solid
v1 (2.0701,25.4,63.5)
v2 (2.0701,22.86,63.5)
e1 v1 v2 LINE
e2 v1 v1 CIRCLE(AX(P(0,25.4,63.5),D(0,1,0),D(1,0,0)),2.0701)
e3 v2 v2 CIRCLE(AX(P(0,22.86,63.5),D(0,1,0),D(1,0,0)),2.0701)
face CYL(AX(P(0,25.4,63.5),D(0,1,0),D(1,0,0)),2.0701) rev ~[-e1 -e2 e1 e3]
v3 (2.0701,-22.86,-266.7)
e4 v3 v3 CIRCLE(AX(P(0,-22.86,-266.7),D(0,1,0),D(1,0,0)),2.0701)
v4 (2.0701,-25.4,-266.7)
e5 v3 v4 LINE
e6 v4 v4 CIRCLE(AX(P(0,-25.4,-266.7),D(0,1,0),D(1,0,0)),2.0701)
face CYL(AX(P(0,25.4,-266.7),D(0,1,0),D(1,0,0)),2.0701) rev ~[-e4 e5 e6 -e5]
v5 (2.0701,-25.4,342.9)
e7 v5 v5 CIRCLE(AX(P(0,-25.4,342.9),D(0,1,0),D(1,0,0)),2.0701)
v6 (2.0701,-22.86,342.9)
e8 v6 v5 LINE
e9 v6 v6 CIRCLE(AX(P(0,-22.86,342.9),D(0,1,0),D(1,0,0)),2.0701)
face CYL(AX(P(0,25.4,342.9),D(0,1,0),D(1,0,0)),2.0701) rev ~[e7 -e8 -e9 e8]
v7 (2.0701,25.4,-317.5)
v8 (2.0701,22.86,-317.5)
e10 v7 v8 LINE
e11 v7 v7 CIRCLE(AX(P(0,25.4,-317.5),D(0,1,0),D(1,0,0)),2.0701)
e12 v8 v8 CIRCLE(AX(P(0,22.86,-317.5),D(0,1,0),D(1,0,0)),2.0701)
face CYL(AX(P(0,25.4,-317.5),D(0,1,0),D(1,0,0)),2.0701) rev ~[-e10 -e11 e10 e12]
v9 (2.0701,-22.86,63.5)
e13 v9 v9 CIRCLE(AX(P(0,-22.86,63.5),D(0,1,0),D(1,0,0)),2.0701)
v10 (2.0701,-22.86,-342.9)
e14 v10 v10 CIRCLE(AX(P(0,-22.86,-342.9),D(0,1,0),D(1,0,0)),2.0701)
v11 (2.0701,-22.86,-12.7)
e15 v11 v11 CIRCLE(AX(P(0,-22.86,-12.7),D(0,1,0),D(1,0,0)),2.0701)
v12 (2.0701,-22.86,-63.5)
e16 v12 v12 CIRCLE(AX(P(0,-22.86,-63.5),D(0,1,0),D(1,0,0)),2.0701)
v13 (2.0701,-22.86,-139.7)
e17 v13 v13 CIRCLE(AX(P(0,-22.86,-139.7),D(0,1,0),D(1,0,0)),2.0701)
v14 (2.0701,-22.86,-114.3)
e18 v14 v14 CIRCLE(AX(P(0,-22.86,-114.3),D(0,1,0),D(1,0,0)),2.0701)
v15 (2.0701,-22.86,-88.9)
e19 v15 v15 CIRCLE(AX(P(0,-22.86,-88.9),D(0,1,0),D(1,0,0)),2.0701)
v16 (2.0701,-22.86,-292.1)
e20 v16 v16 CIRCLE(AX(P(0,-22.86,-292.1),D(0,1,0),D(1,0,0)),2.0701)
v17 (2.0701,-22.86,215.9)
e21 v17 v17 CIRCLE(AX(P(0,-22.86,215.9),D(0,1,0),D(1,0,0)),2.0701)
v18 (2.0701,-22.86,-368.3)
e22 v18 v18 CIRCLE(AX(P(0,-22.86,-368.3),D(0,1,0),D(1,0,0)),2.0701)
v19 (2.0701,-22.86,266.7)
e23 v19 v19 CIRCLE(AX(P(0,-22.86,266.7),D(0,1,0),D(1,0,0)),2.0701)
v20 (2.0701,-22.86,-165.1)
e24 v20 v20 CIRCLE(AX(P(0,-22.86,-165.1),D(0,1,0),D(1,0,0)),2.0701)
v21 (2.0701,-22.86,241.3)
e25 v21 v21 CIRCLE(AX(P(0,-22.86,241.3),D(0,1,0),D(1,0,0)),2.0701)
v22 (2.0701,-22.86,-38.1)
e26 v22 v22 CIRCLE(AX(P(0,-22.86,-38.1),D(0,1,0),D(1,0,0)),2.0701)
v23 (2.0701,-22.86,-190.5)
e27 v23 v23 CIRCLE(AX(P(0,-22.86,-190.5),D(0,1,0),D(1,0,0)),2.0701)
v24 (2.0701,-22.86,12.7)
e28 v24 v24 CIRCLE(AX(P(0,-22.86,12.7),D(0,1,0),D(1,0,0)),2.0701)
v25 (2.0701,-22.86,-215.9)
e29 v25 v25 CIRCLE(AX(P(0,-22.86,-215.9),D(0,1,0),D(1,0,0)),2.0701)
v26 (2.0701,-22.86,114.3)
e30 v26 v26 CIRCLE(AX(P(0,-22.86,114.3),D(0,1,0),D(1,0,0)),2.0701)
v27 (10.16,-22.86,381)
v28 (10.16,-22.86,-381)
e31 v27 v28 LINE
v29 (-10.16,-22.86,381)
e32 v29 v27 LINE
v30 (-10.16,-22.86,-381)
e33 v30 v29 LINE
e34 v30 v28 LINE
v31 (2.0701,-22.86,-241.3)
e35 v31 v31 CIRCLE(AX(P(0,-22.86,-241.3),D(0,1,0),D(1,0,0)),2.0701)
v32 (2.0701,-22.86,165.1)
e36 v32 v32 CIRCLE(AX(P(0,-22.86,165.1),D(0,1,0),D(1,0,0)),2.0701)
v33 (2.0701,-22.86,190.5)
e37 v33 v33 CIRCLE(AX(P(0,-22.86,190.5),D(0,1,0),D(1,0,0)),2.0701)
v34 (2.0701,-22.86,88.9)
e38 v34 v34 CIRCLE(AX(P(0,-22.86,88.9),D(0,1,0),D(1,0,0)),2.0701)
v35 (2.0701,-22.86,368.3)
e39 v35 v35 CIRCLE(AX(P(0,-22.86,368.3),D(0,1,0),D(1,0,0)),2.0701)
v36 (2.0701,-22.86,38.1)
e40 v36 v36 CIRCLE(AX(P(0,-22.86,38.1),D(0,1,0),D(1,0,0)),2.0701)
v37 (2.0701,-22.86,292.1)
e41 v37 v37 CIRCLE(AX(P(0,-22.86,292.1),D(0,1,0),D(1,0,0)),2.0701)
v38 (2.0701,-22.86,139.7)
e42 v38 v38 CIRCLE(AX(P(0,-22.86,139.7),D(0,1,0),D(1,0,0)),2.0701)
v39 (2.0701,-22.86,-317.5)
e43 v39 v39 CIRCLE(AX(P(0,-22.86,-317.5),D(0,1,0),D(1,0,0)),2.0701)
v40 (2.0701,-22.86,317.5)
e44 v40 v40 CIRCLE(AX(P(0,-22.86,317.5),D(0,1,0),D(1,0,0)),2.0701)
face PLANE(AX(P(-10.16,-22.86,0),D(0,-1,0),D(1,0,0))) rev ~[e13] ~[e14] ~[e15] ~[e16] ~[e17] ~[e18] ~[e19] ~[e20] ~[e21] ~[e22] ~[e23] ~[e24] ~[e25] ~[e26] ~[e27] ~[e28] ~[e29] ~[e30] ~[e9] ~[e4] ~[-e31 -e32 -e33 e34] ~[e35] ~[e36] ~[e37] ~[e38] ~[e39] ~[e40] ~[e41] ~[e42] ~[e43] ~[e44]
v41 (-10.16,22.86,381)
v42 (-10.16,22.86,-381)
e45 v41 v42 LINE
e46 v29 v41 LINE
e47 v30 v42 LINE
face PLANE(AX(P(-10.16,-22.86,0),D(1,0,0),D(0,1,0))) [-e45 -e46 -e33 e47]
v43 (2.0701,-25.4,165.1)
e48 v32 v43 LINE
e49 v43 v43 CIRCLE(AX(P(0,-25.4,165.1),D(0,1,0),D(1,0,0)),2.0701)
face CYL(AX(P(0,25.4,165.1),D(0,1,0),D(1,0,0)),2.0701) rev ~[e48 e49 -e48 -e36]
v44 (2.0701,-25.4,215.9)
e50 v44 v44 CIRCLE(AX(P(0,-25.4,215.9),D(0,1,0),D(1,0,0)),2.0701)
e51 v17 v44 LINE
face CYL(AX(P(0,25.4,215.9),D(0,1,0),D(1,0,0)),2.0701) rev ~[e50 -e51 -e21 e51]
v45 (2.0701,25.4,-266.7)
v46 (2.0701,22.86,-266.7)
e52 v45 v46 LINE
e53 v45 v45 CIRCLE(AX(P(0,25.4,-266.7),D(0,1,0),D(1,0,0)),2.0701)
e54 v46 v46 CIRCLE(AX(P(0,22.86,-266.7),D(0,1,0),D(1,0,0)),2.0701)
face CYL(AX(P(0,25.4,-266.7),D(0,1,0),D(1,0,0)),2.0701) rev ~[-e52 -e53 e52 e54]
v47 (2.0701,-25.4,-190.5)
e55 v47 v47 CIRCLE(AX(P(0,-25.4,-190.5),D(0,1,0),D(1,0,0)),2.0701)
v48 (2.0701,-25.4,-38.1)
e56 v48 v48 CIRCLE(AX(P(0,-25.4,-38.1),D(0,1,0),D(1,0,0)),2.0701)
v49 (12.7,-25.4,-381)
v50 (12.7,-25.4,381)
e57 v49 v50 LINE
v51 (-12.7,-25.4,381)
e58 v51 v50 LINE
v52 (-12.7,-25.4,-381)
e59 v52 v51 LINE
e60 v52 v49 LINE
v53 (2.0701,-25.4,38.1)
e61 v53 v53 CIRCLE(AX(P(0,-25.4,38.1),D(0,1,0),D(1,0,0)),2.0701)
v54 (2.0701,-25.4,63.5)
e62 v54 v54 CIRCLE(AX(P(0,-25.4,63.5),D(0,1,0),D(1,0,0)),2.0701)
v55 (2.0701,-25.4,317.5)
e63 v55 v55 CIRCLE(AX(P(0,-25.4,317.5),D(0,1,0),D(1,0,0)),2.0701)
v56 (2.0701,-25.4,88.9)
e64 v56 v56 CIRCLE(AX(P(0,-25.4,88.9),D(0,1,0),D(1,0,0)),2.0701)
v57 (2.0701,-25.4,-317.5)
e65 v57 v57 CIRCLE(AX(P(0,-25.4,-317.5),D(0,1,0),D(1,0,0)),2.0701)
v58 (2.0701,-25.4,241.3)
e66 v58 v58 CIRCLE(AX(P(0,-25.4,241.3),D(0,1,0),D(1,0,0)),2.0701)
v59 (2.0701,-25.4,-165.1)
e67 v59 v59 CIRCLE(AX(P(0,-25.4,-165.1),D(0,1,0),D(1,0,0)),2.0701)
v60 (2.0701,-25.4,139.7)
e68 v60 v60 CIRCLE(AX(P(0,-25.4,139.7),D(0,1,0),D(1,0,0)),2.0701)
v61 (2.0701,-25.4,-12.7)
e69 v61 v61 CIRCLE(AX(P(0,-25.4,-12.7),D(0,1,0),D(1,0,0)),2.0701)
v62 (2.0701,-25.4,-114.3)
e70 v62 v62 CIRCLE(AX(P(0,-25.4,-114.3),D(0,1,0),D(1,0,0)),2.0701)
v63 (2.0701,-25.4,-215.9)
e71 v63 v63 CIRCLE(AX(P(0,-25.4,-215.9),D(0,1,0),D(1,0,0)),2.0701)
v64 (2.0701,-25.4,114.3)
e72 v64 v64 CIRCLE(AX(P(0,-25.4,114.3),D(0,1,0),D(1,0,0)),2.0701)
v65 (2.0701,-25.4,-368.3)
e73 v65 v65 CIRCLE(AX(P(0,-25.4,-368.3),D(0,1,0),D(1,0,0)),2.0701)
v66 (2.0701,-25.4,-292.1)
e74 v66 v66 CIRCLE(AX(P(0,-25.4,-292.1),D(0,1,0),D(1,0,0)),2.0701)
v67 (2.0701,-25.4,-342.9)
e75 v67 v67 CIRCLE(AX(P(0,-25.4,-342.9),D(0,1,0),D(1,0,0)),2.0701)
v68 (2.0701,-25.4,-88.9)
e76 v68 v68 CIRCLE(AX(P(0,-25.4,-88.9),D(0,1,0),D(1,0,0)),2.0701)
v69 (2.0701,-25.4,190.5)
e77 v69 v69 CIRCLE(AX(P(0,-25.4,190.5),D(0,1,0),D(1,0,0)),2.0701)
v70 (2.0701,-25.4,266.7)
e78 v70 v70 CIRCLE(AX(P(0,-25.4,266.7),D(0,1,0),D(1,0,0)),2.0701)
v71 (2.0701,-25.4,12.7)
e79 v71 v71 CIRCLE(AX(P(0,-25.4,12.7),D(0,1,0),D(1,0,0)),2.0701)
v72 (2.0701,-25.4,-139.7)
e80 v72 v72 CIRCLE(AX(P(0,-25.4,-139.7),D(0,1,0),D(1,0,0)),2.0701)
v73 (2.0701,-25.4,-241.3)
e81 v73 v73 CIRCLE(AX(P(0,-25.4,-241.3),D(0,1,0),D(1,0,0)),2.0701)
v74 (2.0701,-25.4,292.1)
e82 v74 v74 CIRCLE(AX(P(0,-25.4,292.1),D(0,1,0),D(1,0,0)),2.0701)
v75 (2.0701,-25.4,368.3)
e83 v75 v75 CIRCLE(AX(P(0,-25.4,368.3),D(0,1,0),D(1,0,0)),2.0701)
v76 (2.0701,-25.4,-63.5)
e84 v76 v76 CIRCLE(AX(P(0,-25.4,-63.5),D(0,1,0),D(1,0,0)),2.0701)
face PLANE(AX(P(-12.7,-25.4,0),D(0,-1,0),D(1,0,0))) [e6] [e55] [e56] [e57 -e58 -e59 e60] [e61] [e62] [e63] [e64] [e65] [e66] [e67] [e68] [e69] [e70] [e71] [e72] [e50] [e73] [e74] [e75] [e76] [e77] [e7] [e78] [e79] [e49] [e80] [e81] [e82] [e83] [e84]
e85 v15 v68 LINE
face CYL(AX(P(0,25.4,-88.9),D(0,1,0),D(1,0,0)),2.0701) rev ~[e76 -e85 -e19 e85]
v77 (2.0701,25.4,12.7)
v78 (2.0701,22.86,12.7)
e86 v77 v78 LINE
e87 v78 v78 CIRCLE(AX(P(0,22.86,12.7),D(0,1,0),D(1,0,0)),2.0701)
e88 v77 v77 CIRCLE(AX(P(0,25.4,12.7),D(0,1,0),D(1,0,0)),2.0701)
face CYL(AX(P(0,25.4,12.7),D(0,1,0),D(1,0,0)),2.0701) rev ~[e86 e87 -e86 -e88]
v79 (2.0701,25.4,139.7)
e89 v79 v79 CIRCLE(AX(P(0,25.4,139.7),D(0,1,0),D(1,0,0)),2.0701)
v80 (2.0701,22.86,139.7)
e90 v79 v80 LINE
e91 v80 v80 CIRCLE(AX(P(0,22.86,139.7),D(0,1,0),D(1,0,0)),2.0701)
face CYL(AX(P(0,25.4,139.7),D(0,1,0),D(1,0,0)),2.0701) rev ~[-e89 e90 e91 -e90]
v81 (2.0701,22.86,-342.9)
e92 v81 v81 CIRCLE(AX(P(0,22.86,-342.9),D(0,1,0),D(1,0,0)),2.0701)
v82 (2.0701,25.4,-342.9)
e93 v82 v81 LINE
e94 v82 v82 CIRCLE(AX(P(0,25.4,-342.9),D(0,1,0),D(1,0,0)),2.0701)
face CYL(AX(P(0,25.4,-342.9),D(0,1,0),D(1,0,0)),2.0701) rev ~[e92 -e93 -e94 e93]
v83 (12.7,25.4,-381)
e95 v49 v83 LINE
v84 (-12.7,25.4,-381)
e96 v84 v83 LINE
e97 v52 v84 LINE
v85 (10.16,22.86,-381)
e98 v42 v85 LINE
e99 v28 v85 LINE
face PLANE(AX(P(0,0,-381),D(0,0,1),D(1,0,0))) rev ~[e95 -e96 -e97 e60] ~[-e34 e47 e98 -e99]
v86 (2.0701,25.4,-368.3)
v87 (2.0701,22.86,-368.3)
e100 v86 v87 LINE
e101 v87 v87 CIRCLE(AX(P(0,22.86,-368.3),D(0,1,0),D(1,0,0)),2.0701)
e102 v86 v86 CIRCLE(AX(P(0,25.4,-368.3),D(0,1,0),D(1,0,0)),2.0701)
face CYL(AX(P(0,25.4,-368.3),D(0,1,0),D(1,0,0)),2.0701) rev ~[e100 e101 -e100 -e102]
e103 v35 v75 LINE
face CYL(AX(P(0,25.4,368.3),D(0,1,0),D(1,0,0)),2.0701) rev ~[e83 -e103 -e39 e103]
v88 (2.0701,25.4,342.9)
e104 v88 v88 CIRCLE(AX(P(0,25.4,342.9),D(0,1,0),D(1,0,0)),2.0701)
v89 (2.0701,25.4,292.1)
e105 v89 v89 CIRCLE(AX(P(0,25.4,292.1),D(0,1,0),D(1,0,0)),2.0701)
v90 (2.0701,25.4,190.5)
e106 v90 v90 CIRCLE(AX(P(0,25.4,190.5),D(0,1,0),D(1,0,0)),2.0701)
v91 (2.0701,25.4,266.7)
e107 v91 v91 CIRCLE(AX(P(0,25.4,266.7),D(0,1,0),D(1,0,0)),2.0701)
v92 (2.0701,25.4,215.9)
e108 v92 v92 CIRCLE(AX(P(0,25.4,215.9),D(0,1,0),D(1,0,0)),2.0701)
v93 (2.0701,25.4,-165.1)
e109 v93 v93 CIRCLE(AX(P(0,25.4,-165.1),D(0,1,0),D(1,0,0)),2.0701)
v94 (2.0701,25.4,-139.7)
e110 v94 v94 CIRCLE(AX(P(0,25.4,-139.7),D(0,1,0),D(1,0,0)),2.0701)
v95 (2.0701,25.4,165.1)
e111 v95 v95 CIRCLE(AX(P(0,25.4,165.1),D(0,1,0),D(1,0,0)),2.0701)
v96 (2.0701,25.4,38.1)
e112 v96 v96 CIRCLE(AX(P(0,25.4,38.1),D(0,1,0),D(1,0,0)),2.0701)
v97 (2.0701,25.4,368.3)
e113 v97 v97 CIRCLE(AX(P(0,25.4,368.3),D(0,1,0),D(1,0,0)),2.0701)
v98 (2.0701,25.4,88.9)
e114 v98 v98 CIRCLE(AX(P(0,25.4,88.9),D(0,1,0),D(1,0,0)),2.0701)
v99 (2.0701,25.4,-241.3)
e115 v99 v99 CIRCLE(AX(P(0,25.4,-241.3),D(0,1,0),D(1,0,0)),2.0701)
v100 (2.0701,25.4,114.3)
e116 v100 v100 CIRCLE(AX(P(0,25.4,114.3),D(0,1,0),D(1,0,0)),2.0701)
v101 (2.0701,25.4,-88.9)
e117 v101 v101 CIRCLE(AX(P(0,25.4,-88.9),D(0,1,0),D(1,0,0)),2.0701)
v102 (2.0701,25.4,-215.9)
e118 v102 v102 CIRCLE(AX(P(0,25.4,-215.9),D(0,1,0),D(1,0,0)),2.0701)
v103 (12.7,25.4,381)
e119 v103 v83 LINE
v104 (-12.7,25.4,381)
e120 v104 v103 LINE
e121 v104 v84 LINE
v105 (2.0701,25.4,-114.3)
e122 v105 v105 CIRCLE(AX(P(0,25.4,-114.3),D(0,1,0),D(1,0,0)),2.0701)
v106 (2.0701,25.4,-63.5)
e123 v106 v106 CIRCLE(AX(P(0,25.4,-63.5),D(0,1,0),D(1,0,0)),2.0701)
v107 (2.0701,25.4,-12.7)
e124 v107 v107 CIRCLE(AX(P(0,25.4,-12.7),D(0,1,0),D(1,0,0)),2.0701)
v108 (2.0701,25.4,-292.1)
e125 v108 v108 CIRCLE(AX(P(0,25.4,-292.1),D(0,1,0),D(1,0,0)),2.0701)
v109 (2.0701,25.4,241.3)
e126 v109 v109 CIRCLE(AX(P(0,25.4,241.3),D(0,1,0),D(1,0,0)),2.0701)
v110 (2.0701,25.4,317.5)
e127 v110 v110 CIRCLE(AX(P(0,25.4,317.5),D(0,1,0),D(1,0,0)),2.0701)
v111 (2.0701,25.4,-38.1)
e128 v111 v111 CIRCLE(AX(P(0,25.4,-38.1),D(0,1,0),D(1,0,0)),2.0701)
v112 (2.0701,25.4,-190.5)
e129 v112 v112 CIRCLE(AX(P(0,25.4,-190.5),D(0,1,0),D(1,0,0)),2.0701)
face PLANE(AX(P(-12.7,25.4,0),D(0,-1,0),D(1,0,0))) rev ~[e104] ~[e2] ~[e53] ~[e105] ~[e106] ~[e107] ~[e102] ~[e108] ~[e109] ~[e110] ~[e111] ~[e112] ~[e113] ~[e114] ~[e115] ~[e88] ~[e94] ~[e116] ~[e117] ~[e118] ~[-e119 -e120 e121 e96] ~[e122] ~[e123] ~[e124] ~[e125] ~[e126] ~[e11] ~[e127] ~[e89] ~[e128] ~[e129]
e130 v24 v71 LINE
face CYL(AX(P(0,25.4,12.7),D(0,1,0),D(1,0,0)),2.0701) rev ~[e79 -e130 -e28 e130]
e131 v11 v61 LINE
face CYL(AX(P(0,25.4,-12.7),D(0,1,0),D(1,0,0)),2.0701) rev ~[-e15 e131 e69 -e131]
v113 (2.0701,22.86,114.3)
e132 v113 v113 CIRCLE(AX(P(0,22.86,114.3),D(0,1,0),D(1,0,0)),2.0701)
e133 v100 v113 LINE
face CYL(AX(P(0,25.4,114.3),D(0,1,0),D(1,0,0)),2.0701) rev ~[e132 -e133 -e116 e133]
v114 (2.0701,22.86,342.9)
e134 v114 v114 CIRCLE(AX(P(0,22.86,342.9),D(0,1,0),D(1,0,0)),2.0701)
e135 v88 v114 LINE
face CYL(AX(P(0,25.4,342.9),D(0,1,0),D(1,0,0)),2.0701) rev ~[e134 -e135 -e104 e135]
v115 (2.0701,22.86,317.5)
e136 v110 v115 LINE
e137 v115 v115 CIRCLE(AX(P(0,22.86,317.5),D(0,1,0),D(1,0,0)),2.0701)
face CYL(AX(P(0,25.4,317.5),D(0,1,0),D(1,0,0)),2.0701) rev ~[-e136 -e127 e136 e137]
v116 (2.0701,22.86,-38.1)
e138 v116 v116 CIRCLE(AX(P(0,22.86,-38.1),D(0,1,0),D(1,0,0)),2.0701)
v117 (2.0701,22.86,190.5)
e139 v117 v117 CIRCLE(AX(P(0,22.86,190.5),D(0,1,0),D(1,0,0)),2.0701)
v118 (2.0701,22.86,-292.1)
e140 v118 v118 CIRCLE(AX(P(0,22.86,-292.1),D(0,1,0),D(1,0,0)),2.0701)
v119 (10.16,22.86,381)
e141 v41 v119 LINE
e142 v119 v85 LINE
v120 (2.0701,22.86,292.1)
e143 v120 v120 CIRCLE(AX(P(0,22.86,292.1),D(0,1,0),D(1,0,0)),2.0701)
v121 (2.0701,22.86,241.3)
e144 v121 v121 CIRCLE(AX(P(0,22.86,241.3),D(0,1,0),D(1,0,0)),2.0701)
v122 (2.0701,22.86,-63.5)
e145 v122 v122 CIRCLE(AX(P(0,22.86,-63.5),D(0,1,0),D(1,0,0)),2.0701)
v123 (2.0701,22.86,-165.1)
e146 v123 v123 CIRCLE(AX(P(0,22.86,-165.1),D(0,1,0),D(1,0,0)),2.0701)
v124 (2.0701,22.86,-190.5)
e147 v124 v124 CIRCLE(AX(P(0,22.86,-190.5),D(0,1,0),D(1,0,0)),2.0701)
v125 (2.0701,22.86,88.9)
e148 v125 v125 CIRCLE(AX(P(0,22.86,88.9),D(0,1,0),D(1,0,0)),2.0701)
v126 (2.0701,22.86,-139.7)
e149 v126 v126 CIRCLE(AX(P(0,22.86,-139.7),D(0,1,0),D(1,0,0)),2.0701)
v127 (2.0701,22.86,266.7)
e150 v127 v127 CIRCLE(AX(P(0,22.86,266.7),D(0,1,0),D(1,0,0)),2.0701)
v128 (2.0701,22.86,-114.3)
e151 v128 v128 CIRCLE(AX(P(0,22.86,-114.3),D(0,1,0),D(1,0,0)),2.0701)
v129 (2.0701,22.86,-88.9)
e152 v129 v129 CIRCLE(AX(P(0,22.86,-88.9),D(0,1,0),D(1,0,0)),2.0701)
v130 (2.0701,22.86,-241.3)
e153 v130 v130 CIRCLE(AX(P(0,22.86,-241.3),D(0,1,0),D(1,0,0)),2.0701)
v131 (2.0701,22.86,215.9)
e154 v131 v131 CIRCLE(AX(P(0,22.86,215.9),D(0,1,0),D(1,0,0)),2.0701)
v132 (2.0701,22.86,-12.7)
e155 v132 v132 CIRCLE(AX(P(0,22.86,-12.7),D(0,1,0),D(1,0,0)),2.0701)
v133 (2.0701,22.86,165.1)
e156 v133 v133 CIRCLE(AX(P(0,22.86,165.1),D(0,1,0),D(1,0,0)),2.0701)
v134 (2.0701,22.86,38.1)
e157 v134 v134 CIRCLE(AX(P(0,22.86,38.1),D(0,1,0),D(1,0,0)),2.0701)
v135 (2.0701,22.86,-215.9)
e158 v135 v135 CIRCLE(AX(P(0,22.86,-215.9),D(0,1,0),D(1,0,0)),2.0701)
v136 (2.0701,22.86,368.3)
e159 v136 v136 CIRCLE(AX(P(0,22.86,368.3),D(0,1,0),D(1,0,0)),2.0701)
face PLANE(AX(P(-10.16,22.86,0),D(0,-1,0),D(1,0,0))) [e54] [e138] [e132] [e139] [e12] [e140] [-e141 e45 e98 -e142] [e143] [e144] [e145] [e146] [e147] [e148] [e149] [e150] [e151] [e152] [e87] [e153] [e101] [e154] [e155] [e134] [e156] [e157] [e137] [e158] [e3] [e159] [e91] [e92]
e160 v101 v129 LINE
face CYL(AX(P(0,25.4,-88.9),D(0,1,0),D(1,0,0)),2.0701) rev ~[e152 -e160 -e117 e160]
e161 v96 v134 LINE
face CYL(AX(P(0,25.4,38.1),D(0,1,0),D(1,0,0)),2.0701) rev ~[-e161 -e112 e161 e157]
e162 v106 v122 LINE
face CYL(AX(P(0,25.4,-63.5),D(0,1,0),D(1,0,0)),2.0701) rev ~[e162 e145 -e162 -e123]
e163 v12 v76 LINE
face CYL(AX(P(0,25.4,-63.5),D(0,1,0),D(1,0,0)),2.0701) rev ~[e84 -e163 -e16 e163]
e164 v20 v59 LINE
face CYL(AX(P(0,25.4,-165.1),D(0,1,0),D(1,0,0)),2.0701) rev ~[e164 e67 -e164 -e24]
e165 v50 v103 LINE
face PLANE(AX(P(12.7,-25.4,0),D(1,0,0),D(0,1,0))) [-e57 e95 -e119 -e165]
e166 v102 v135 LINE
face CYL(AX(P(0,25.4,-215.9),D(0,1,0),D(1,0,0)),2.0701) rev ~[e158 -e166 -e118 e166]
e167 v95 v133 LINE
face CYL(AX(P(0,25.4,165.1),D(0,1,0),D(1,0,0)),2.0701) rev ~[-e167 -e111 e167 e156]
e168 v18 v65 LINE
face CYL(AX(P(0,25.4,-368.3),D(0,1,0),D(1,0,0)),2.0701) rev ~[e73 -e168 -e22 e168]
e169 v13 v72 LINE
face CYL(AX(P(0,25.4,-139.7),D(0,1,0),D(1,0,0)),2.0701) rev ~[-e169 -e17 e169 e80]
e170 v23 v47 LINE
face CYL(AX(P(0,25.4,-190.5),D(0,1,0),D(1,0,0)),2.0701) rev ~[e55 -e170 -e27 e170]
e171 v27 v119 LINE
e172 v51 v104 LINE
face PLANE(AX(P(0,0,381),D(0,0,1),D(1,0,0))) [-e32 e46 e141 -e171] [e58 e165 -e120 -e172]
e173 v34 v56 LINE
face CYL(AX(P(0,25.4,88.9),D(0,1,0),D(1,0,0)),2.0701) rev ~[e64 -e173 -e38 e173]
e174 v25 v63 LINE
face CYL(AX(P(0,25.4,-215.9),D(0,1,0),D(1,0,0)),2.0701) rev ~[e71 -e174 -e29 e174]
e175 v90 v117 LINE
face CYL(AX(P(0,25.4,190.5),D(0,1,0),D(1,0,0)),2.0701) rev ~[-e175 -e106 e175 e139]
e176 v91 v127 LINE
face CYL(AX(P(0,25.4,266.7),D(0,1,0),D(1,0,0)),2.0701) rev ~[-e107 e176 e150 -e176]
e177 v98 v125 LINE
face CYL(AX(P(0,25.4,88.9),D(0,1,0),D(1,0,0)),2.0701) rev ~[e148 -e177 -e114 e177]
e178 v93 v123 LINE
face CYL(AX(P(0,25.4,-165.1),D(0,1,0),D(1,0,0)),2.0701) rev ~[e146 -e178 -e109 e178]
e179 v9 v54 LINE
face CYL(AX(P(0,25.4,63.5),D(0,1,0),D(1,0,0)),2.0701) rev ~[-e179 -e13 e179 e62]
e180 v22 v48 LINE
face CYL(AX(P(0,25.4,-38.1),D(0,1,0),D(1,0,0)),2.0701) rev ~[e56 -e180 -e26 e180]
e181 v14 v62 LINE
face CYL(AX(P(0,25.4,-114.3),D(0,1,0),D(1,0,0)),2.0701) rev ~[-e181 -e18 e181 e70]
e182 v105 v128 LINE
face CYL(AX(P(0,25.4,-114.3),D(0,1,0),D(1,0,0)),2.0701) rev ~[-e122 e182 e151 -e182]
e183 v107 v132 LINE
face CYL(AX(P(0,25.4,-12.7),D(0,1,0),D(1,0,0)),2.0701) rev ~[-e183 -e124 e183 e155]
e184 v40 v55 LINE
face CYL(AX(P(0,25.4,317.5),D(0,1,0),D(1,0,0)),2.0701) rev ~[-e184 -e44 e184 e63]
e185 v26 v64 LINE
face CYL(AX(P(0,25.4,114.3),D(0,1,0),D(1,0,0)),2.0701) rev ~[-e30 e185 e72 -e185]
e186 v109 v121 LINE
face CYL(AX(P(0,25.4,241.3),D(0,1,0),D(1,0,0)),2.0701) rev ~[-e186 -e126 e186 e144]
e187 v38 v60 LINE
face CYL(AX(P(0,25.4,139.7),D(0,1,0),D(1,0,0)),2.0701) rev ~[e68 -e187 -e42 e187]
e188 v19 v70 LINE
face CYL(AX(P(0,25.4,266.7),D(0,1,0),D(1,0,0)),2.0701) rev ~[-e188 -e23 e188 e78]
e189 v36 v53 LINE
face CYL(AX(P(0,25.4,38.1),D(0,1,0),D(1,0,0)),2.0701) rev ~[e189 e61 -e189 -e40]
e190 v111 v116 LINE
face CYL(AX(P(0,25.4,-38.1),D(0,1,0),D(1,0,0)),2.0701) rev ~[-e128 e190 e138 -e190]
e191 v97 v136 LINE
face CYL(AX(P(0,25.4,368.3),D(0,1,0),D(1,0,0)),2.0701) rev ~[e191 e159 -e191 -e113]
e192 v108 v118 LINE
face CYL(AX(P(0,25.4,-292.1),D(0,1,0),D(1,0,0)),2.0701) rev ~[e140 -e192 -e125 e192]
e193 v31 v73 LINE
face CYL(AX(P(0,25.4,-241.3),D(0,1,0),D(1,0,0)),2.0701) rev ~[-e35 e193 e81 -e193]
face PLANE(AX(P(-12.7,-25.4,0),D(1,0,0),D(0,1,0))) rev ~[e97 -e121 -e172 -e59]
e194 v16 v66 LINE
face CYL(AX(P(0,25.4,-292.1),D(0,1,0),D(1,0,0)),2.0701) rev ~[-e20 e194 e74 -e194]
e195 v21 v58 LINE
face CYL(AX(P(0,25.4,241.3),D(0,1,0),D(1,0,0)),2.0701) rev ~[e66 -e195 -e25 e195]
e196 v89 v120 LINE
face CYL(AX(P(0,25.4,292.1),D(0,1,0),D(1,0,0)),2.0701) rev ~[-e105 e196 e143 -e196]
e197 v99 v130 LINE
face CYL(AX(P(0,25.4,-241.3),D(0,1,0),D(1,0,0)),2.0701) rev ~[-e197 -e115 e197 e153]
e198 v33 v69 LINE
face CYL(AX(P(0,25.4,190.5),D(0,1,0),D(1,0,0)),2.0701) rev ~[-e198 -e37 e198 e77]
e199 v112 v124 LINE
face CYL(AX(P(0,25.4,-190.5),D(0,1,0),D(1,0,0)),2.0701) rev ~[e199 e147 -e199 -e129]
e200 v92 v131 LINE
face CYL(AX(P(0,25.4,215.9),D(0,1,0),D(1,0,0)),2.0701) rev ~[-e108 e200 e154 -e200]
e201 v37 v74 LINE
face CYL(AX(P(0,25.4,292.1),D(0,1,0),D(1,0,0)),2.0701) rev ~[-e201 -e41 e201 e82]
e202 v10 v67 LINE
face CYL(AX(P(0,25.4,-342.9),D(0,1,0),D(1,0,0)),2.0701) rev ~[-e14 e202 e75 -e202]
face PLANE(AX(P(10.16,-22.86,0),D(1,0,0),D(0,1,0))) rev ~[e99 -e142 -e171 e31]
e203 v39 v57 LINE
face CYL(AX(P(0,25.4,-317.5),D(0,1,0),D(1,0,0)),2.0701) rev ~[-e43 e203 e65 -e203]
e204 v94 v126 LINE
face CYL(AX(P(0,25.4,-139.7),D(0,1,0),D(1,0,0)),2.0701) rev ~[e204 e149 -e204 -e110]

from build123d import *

# Parameters (mm, degrees)
SKETCH1_W           = 25.4
SKETCH1_H           = 50.8
SKETCH1_W_2         = 20.32
SKETCH1_H_2         = 45.72
EXTRUDE_THIN1_DEPTH = 381
SKETCH2_R           = 2.0701
CUT_EXTRUDE1_DEPTH  = 51.8
LPATTERN1_COUNT     = 31
LPATTERN1_PITCH     = 25.4


with BuildPart() as part:
    # Sketch1 → Extrude-Thin1 (new body, symmetric)
    with BuildSketch(Plane.XY):
        Rectangle(SKETCH1_W, SKETCH1_H)
        Rectangle(SKETCH1_W_2, SKETCH1_H_2, mode=Mode.SUBTRACT)
    extrude(amount=EXTRUDE_THIN1_DEPTH, both=True)

    # Sketch2 → Cut-Extrude1 (cut, through all)
    with BuildSketch(Plane(origin=(0, 25.4, 0), x_dir=(1, 0, 0), z_dir=(0, 1, 0))):
        with Locations((0, -368.3)):
            Circle(SKETCH2_R)
    cut_extrude1 = extrude(amount=-CUT_EXTRUDE1_DEPTH, mode=Mode.SUBTRACT)

    # LPattern1: Cut-Extrude1 ×31
    with Locations(*[(0, 0, -i * LPATTERN1_PITCH) for i in range(1, LPATTERN1_COUNT)]):
        add(cut_extrude1, mode=Mode.SUBTRACT)


solid = part.part
